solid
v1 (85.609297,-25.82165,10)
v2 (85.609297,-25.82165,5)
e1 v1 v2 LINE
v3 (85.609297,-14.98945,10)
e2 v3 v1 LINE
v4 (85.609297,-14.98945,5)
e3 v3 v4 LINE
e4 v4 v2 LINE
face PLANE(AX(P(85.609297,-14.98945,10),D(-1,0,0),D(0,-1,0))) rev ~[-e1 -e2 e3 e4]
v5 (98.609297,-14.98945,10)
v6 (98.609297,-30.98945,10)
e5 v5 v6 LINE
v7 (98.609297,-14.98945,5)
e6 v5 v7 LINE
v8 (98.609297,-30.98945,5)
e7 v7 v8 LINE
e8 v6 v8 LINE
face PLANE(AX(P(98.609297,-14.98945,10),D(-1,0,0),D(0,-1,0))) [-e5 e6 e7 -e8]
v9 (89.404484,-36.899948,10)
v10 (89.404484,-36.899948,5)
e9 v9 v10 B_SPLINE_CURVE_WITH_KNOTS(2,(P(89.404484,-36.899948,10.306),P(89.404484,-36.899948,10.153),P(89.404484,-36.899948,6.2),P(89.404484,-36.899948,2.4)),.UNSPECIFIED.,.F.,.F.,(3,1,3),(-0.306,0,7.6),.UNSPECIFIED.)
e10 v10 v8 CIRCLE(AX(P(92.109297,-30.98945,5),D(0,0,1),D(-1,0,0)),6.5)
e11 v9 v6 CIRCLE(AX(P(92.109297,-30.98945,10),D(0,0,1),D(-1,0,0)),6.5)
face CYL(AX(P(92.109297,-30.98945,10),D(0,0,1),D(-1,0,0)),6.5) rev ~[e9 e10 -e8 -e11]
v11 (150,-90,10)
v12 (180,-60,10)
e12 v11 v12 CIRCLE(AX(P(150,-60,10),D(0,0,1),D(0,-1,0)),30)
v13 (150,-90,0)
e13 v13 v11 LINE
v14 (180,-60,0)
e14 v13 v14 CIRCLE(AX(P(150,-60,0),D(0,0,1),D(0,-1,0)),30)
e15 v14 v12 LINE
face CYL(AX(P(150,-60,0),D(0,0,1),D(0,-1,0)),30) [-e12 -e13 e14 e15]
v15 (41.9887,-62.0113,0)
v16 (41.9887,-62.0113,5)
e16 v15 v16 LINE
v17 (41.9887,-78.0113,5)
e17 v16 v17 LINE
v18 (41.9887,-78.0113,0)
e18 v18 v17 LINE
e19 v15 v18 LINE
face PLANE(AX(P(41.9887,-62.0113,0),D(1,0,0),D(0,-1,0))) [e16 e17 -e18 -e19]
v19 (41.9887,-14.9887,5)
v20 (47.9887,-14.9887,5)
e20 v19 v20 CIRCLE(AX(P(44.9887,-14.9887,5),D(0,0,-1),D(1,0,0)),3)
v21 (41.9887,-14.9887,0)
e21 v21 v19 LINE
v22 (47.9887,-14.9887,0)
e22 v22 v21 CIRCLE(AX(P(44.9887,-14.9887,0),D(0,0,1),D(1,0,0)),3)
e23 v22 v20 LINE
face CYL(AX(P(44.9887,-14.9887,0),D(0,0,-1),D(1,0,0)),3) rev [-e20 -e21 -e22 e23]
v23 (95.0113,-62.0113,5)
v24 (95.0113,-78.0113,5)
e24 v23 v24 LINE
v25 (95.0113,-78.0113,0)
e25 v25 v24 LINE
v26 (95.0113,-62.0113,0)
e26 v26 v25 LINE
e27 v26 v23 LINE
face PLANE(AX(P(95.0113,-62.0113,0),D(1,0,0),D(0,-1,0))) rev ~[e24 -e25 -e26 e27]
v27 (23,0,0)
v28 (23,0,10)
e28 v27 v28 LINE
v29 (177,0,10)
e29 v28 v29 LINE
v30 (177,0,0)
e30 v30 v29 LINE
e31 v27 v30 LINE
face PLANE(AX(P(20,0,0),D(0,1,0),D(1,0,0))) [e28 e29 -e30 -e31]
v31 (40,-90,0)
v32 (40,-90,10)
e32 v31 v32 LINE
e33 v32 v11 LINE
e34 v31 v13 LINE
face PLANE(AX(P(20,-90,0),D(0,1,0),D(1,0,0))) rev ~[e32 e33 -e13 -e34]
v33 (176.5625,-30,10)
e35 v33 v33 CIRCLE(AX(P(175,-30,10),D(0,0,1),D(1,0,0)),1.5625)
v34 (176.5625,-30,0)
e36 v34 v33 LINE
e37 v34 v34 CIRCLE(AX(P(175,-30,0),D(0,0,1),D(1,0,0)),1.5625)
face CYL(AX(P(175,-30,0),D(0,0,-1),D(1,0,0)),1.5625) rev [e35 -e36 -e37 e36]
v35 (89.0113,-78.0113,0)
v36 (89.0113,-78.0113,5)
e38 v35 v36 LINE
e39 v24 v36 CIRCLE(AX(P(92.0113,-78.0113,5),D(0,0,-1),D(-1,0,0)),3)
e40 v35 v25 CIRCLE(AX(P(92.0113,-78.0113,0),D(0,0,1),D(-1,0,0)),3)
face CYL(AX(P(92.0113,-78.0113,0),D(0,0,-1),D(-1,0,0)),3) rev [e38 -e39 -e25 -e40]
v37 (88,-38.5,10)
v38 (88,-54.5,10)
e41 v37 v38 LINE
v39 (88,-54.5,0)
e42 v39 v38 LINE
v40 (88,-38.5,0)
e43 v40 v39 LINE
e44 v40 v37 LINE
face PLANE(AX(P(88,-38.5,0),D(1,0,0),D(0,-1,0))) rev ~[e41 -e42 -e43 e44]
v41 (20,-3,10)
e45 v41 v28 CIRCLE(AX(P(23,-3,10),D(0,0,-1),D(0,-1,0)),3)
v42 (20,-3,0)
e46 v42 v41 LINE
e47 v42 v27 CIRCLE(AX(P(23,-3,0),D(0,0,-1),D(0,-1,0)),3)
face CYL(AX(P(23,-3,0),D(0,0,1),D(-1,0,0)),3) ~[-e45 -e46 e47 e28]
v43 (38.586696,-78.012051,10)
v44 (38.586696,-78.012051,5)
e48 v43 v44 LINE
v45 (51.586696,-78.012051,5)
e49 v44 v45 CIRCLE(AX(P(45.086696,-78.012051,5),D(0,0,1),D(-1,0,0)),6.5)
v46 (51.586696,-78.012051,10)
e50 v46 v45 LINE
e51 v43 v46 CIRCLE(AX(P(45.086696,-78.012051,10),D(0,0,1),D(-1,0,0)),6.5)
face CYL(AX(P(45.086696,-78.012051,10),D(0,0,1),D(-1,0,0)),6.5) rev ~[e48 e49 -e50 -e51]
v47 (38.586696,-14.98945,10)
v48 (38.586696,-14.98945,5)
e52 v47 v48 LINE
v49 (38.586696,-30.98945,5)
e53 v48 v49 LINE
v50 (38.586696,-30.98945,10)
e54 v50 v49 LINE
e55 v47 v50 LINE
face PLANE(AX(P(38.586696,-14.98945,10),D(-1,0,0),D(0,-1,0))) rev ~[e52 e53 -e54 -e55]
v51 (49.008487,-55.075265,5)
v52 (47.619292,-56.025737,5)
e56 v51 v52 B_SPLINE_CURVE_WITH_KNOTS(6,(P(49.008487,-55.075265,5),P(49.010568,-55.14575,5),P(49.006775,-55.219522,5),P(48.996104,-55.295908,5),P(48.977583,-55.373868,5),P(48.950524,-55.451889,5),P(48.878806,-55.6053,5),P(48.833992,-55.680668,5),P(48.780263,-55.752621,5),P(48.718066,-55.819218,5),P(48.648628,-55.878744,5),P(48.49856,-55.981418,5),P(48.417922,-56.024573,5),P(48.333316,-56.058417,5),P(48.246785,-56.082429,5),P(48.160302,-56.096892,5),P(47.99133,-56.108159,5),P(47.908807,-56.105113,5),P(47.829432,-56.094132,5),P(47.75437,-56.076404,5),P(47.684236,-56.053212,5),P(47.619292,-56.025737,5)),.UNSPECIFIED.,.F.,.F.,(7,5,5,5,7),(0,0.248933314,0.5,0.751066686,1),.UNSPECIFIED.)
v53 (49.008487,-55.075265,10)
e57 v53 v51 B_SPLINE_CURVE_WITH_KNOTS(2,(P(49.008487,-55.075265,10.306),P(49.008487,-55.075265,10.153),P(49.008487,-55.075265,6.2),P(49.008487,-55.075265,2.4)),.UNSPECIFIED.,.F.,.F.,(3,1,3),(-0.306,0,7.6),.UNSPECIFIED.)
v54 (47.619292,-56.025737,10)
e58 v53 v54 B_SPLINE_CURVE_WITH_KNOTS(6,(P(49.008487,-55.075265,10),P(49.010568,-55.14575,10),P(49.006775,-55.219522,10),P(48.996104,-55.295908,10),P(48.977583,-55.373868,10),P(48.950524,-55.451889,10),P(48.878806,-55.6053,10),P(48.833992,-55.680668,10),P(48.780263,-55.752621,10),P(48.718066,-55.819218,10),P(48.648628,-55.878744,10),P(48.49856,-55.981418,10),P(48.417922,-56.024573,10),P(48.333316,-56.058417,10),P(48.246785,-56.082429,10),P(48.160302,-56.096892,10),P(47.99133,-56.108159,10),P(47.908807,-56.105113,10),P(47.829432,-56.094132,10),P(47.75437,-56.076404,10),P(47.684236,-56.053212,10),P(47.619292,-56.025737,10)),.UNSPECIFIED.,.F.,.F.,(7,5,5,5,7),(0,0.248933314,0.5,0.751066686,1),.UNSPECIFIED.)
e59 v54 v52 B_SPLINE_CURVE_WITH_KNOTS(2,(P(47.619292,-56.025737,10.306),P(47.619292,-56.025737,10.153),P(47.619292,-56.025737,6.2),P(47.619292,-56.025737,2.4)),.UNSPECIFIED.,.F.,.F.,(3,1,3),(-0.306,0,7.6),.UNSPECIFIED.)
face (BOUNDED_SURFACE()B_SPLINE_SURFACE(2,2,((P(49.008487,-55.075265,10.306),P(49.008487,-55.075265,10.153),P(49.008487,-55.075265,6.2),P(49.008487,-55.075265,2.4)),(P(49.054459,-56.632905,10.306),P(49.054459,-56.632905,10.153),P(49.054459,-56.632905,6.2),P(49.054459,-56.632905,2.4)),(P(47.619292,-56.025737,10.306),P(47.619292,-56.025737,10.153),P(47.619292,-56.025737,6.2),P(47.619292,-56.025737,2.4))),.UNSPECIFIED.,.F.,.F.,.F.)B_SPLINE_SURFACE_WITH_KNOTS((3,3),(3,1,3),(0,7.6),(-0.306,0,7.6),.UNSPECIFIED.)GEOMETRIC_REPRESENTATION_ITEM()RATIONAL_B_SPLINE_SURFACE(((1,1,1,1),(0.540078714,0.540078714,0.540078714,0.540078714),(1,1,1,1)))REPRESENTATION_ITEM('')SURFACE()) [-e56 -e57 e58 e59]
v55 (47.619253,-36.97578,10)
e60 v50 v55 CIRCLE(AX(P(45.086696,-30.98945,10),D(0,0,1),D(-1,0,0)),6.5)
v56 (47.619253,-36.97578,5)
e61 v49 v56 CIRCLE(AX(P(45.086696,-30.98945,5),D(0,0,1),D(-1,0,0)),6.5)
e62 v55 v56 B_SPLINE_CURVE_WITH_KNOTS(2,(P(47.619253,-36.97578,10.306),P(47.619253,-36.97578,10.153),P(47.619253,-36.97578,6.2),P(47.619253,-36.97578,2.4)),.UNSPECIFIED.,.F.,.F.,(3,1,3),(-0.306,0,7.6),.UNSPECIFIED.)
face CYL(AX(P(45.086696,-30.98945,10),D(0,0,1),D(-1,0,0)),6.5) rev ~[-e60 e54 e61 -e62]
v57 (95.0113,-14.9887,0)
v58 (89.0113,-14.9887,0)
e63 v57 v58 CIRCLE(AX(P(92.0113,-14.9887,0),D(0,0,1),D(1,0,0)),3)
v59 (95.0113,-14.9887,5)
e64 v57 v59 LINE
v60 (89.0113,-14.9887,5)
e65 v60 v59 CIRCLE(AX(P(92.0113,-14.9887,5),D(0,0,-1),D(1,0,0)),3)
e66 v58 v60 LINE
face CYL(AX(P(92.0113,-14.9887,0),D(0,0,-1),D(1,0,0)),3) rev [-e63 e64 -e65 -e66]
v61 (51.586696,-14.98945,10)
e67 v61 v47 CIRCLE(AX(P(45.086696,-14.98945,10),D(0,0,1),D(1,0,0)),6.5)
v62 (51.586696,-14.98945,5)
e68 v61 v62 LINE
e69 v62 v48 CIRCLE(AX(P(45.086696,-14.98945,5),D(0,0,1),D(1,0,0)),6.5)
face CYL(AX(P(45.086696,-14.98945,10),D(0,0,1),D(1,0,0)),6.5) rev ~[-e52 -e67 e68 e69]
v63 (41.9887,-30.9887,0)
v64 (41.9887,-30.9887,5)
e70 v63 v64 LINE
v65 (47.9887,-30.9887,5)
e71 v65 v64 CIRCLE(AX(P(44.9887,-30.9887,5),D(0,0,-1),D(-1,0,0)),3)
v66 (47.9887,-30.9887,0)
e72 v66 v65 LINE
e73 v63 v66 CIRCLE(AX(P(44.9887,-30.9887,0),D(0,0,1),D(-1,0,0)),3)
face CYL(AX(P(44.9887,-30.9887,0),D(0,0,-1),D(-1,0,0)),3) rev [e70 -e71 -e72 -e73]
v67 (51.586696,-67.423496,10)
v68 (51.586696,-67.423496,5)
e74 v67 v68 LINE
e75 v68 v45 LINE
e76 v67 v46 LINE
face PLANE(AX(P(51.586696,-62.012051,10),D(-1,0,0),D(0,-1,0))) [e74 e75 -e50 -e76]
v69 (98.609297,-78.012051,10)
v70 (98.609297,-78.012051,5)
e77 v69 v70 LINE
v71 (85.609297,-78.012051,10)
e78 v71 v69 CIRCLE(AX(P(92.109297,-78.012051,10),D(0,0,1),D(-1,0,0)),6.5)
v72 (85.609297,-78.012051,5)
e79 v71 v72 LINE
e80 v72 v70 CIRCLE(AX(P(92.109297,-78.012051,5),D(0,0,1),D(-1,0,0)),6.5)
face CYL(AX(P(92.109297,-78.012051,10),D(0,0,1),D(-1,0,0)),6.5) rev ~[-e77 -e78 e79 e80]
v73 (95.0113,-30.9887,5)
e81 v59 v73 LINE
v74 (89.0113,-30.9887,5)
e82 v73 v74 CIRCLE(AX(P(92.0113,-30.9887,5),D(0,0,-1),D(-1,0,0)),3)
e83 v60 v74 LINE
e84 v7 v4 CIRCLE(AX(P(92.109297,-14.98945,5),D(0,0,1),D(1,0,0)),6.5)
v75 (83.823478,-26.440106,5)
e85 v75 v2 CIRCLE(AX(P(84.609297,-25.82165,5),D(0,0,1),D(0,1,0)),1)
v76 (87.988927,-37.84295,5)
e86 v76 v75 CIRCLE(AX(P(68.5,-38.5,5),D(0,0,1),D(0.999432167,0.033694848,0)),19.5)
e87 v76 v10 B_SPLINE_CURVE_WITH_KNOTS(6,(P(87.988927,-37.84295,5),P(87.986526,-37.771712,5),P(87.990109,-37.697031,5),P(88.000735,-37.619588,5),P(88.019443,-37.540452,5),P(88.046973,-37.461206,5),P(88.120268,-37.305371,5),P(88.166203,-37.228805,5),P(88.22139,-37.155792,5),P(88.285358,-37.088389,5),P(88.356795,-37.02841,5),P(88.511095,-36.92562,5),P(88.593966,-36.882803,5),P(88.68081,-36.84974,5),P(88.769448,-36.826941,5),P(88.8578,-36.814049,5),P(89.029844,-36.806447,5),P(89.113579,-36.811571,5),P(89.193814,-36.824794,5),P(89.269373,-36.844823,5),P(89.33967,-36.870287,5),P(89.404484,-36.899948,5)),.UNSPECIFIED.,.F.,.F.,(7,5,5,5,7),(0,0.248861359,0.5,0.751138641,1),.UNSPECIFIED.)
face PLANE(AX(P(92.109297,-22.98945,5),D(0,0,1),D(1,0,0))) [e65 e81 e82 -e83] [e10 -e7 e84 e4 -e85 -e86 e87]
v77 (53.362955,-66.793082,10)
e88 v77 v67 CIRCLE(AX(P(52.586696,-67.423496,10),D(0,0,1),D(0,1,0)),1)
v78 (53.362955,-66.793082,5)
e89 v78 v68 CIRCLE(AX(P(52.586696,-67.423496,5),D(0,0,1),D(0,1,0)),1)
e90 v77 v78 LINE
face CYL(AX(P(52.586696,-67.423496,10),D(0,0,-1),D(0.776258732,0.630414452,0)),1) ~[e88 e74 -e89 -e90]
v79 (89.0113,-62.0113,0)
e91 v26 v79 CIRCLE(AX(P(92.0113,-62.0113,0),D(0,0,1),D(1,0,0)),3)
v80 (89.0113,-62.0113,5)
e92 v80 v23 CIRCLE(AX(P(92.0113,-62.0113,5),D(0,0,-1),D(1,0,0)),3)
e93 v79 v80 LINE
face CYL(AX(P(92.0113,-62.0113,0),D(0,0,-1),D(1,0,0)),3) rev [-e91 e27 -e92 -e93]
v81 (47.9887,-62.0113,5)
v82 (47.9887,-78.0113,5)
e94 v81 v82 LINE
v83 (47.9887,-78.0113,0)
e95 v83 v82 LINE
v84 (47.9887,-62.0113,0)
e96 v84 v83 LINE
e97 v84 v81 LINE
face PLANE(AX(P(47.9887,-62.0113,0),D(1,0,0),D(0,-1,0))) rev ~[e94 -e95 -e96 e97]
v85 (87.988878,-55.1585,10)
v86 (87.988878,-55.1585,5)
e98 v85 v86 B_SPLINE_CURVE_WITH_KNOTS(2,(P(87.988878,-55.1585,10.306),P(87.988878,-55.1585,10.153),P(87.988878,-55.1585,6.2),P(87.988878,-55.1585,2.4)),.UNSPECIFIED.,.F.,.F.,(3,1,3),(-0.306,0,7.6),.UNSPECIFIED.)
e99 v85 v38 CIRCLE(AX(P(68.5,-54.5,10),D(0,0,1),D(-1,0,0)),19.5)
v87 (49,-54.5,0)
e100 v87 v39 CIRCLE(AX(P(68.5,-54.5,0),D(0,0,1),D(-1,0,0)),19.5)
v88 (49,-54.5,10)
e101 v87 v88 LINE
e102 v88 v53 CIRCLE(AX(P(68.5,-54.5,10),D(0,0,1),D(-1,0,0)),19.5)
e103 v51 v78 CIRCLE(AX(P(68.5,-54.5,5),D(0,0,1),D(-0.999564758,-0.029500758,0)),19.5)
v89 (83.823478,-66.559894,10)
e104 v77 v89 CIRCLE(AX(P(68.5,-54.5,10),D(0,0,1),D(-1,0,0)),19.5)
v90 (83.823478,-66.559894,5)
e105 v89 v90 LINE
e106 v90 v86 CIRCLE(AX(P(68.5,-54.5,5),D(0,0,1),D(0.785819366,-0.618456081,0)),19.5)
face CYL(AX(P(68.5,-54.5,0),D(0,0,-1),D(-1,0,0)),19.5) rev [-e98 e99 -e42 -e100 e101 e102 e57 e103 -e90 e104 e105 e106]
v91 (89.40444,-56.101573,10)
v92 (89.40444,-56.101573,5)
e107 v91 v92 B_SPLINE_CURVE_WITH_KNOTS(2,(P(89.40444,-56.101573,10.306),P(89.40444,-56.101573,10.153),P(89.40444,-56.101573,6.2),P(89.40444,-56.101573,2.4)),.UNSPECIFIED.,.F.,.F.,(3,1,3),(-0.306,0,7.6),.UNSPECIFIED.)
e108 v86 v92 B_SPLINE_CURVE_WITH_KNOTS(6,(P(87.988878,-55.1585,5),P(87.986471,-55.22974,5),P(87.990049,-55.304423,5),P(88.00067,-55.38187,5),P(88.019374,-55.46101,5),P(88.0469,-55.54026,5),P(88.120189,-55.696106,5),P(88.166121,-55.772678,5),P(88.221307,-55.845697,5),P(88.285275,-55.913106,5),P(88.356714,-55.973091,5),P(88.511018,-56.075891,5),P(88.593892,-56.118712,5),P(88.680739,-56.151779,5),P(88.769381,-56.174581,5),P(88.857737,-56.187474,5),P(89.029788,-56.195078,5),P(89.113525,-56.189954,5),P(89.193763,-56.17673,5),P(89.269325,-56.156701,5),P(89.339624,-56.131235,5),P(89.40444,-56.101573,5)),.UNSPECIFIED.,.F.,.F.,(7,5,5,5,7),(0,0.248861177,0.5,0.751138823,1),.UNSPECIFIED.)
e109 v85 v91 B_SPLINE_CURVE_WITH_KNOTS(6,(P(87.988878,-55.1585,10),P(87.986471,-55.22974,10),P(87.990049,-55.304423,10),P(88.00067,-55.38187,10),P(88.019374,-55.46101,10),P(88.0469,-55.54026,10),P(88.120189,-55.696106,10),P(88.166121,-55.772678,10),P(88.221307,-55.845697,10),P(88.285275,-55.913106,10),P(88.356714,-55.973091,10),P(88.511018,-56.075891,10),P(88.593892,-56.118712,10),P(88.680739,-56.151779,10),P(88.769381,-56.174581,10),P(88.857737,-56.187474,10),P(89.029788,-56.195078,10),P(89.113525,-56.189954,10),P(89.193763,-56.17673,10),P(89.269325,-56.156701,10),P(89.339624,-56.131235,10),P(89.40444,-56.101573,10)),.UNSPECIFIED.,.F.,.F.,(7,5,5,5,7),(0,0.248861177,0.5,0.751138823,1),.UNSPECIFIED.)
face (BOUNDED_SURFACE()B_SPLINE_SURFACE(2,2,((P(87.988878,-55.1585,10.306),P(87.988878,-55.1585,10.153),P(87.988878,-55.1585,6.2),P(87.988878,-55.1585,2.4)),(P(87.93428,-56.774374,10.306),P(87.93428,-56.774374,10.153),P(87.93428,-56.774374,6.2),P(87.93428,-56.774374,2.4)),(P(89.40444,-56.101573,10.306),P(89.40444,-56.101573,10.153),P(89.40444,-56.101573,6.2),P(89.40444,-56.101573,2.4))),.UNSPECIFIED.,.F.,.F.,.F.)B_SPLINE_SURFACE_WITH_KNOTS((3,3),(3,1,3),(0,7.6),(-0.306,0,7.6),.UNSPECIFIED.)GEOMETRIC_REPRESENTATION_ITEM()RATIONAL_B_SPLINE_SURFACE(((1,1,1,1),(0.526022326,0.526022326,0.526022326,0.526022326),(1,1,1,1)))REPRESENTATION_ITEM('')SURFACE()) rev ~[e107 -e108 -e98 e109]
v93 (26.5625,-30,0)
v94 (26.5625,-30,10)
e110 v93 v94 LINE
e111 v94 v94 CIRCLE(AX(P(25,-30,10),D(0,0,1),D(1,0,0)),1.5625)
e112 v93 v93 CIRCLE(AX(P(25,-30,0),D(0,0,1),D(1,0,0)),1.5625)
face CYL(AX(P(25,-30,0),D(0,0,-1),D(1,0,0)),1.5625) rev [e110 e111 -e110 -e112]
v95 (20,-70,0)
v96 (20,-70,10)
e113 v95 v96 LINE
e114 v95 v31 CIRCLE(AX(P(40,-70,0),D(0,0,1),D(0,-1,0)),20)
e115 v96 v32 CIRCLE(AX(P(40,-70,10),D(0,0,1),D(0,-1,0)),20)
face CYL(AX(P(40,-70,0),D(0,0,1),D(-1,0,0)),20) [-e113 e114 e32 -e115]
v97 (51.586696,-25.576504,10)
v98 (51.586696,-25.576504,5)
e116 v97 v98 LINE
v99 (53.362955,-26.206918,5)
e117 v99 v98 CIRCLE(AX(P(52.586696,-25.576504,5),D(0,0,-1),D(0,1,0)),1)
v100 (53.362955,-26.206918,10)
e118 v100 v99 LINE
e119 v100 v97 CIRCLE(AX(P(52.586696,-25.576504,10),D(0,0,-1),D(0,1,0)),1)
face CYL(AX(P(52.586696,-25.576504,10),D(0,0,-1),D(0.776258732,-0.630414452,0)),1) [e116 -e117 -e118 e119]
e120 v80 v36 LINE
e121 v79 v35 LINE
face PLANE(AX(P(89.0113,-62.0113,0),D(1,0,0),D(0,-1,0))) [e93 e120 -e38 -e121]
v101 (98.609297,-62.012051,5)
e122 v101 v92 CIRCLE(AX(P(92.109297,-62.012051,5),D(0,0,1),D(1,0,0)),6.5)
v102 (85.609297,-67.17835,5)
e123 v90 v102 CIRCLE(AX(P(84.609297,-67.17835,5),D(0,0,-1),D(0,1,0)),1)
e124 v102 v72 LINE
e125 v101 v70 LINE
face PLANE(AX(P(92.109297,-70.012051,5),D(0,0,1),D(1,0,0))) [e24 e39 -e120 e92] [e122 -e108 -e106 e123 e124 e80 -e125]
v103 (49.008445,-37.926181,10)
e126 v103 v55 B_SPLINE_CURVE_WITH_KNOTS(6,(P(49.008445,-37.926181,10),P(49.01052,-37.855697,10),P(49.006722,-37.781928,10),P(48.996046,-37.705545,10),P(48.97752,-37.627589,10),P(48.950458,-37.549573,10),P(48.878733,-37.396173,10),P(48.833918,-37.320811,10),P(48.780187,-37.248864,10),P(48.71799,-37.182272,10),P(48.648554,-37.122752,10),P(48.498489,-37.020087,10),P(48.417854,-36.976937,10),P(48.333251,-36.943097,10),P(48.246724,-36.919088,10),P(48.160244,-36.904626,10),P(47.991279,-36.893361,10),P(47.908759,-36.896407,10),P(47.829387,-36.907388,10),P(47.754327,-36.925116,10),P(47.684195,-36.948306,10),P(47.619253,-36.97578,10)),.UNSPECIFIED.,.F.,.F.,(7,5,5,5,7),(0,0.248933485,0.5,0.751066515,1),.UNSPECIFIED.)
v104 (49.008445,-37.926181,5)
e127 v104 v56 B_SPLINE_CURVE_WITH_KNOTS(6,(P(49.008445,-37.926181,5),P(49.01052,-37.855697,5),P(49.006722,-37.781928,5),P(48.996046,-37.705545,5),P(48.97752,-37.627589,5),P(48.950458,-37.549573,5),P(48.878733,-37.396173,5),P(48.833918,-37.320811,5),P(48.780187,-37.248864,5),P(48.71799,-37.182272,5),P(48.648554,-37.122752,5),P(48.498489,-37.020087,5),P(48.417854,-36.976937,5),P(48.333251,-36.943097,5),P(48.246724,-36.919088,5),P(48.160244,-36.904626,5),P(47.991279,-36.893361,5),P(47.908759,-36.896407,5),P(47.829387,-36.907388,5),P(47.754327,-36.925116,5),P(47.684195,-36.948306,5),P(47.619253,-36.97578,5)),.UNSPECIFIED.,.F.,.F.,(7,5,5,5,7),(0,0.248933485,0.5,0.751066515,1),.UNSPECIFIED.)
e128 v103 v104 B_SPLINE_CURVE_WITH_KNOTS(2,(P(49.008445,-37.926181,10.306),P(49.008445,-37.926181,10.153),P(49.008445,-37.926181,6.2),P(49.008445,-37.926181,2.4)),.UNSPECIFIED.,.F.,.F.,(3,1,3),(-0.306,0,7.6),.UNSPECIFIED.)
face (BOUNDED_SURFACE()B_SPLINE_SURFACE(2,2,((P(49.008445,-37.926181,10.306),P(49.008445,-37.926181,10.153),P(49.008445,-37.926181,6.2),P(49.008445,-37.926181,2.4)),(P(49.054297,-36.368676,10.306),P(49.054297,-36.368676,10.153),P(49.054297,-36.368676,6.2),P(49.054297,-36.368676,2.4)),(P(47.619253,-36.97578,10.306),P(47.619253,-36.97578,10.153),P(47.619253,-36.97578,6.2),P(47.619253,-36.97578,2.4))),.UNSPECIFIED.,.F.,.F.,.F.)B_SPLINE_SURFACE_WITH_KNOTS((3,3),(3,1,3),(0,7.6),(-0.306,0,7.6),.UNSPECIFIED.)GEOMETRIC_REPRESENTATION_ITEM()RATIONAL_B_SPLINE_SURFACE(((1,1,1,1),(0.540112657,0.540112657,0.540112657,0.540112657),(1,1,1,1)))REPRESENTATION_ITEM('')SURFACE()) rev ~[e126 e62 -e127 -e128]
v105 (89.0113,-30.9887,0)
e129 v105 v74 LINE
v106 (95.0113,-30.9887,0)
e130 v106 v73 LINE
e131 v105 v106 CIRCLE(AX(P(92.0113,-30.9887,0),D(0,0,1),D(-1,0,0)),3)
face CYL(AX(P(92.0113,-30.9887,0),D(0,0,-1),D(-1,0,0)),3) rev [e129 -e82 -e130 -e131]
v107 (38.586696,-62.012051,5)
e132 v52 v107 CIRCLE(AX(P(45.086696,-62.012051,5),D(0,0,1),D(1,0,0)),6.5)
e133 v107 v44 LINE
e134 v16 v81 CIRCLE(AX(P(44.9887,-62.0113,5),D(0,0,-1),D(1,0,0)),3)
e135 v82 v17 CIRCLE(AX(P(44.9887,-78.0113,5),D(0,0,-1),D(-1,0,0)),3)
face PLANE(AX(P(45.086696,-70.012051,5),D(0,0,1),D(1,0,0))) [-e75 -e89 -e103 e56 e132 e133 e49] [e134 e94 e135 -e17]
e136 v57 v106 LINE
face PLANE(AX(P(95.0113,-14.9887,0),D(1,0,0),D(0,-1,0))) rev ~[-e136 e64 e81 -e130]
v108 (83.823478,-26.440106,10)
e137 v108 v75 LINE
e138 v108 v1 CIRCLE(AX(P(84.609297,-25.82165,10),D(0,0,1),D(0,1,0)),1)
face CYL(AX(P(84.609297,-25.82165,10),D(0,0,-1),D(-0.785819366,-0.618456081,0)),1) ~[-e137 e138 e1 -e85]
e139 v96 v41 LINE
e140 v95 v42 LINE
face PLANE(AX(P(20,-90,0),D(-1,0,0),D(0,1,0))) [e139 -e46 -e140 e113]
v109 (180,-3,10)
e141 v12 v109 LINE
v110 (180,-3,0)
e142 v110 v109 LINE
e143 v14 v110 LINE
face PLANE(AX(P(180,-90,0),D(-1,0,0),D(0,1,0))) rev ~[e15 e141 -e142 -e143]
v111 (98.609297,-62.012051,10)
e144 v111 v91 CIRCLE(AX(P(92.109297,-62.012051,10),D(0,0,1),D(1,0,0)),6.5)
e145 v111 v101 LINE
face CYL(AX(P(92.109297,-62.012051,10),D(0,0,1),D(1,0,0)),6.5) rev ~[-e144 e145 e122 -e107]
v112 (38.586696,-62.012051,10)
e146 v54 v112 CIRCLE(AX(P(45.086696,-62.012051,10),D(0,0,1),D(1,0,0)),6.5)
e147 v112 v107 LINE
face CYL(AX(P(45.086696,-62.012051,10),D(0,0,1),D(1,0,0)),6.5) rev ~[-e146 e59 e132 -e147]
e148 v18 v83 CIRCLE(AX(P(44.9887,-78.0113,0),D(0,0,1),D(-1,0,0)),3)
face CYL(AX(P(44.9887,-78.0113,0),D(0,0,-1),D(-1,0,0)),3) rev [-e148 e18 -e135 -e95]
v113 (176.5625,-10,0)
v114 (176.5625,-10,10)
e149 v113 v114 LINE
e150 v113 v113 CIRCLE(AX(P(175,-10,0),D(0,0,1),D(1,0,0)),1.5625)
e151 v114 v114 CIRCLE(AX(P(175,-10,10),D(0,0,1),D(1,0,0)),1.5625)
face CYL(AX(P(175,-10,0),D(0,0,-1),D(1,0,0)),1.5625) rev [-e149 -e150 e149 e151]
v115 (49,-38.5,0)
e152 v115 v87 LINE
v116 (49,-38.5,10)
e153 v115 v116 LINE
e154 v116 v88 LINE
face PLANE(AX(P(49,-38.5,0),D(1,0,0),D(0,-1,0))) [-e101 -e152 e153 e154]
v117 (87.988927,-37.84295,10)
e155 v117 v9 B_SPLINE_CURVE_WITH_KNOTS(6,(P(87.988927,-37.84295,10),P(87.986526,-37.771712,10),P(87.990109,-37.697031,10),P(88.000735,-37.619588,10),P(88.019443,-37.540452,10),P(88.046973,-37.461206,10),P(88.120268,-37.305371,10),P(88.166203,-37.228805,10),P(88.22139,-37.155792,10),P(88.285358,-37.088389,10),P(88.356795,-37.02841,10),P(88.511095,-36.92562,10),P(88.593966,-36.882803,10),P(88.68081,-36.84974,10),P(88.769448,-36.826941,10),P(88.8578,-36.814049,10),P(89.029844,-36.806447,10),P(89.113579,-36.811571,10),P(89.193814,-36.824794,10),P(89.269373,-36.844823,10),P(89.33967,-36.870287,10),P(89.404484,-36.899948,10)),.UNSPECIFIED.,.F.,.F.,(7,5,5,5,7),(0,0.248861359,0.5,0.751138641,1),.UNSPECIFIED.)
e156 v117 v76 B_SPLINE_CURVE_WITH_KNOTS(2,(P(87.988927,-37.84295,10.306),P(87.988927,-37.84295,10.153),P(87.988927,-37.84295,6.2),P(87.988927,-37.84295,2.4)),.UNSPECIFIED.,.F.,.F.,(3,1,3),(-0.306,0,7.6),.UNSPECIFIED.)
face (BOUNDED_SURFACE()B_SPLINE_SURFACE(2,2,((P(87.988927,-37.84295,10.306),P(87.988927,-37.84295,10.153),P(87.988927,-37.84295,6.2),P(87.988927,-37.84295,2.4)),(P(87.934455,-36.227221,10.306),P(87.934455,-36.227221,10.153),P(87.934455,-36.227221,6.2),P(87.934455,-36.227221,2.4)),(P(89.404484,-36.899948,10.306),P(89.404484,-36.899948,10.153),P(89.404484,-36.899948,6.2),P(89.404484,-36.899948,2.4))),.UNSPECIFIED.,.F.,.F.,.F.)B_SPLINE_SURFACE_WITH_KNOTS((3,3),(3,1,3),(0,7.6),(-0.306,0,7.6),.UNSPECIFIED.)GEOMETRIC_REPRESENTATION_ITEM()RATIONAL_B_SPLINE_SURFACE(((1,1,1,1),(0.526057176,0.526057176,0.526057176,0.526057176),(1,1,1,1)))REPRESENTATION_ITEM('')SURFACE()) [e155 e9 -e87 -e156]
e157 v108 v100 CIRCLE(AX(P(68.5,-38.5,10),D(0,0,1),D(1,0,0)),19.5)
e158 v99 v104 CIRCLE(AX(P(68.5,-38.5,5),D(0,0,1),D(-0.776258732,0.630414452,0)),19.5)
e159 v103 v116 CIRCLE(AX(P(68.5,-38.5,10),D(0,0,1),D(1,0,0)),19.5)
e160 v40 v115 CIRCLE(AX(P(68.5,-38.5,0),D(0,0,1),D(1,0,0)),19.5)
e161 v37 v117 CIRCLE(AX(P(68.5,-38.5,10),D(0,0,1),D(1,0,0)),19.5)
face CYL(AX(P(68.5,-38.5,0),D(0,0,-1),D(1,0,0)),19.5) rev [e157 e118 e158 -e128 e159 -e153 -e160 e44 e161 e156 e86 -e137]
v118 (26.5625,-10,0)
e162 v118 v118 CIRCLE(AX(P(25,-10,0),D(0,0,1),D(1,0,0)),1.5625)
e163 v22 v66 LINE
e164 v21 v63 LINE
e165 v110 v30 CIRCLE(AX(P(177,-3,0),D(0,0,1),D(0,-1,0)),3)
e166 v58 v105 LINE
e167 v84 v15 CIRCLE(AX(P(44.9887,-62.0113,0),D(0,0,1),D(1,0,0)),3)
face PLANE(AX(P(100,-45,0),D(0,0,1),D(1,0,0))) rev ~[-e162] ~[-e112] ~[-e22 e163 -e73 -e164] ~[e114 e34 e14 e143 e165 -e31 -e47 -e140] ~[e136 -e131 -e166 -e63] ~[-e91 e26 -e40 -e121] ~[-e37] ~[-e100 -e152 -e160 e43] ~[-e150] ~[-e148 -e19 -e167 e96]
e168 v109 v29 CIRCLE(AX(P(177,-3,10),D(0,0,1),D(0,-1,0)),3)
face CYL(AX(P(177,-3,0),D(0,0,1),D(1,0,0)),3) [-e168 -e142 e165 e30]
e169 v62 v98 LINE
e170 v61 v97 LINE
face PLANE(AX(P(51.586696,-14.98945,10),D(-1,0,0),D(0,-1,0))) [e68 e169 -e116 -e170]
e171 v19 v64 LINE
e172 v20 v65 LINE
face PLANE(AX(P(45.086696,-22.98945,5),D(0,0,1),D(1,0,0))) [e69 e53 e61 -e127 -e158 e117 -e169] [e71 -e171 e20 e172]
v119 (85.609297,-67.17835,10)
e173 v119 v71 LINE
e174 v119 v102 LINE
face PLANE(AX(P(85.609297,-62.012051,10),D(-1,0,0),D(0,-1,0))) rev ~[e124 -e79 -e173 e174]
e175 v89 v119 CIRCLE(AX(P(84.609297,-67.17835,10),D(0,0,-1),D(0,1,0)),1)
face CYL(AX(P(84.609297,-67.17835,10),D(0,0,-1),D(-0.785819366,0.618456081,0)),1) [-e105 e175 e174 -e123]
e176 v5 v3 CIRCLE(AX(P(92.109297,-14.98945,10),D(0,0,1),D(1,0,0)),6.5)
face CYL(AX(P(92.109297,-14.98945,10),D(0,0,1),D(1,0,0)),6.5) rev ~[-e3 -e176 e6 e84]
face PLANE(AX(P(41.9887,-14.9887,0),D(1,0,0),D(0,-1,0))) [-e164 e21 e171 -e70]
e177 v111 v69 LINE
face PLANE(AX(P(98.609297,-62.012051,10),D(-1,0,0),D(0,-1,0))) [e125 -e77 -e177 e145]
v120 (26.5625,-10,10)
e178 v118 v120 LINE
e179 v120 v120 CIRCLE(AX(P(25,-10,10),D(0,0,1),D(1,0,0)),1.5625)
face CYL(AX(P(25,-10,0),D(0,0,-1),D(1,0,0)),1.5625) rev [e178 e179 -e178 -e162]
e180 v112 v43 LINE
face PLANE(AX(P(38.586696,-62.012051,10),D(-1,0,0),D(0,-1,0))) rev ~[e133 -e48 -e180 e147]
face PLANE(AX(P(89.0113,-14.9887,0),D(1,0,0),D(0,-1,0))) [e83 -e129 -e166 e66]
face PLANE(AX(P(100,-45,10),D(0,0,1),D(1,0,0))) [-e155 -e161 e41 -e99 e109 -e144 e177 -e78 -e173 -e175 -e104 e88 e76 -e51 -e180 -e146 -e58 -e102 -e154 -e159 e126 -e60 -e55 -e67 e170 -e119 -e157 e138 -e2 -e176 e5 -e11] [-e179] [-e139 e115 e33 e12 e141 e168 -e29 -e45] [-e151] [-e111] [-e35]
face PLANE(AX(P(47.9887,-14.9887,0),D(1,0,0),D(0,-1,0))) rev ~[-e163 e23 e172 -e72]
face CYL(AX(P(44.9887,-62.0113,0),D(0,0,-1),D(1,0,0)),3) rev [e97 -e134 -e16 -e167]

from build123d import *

# Parameters (mm, degrees)
SKETCH_W     = 160
SKETCH_H     = 90
SKETCH_R     = 1.5625
PAD_DEPTH    = 10
POCKET_DEPTH = 5
FILLET_R     = 20
FILLET001_R  = 30
FILLET002_R  = 3
FILLET003_R  = 1
FILLET004_R  = 1
FILLET005_R  = 1


with BuildPart() as part:
    # Sketch → Pad (new body)
    with BuildSketch(Plane.XY):
        with Locations((100, -45)):
            Rectangle(SKETCH_W, SKETCH_H)
        with Locations((175, -10)):
            Circle(SKETCH_R, mode=Mode.SUBTRACT)
        with Locations((175, -30)):
            Circle(SKETCH_R, mode=Mode.SUBTRACT)
        with Locations((25, -10)):
            Circle(SKETCH_R, mode=Mode.SUBTRACT)
        with Locations((25, -30)):
            Circle(SKETCH_R, mode=Mode.SUBTRACT)
        with BuildLine():
            ThreePointArc((95.0113, -14.9887), (92.0113, -11.9887), (89.0113, -14.9887))
            Line((89.0113, -14.9887), (89.0113, -30.9887))
            ThreePointArc((89.0113, -30.9887), (92.0113, -33.9887), (95.0113, -30.9887))
            Line((95.0113, -14.9887), (95.0113, -30.9887))
        make_face(mode=Mode.SUBTRACT)
        with BuildLine():
            ThreePointArc((88, -38.5), (68.5, -19), (49, -38.5))
            Line((49, -38.5), (49, -54.5))
            ThreePointArc((49, -54.5), (68.5, -74), (88, -54.5))
            Line((88, -38.5), (88, -54.5))
        make_face(mode=Mode.SUBTRACT)
        with BuildLine():
            ThreePointArc((95.0113, -62.0113), (92.0113, -59.0113), (89.0113, -62.0113))
            Line((89.0113, -62.0113), (89.0113, -78.0113))
            ThreePointArc((89.0113, -78.0113), (92.0113, -81.0113), (95.0113, -78.0113))
            Line((95.0113, -62.0113), (95.0113, -78.0113))
        make_face(mode=Mode.SUBTRACT)
        with BuildLine():
            ThreePointArc((47.9887, -62.0113), (44.9887, -59.0113), (41.9887, -62.0113))
            Line((41.9887, -62.0113), (41.9887, -78.0113))
            ThreePointArc((41.9887, -78.0113), (44.9887, -81.0113), (47.9887, -78.0113))
            Line((47.9887, -62.0113), (47.9887, -78.0113))
        make_face(mode=Mode.SUBTRACT)
        with BuildLine():
            ThreePointArc((47.9887, -14.9887), (44.9887, -11.9887), (41.9887, -14.9887))
            Line((41.9887, -14.9887), (41.9887, -30.9887))
            ThreePointArc((41.9887, -30.9887), (44.9887, -33.9887), (47.9887, -30.9887))
            Line((47.9887, -14.9887), (47.9887, -30.9887))
        make_face(mode=Mode.SUBTRACT)
    extrude(amount=PAD_DEPTH)

    # Sketch001 (on Face30 of Pad) → Pocket (cut)
    with BuildSketch(Plane.XY.offset(10)):
        with BuildLine():
            ThreePointArc((98.609297, -14.98945), (92.109297, -8.48945), (85.609297, -14.98945))
            Line((85.609297, -14.98945), (85.609297, -30.98945))
            ThreePointArc((85.609297, -30.98945), (92.109297, -37.48945), (98.609297, -30.98945))
            Line((98.609297, -14.98945), (98.609297, -30.98945))
        make_face()
        with BuildLine():
            ThreePointArc((51.586696, -14.98945), (45.086696, -8.48945), (38.586696, -14.98945))
            Line((38.586696, -14.98945), (38.586696, -30.98945))
            ThreePointArc((38.586696, -30.98945), (45.086696, -37.48945), (51.586696, -30.98945))
            Line((51.586696, -14.98945), (51.586696, -30.98945))
        make_face()
        with BuildLine():
            ThreePointArc((98.609297, -62.012051), (92.109297, -55.512051), (85.609297, -62.012051))
            Line((85.609297, -62.012051), (85.609297, -78.012051))
            ThreePointArc((85.609297, -78.012051), (92.109297, -84.512051), (98.609297, -78.012051))
            Line((98.609297, -62.012051), (98.609297, -78.012051))
        make_face()
        with BuildLine():
            ThreePointArc((51.586696, -62.012051), (45.086696, -55.512051), (38.586696, -62.012051))
            Line((38.586696, -62.012051), (38.586696, -78.012051))
            ThreePointArc((38.586696, -78.012051), (45.086696, -84.512051), (51.586696, -78.012051))
            Line((51.586696, -62.012051), (51.586696, -78.012051))
        make_face()
    extrude(amount=-POCKET_DEPTH, mode=Mode.SUBTRACT)

    # Fillet
    fillet_edges = [part.edges().sort_by_distance(p)[0] for p in [
        (20, -90, 5),
    ]]
    fillet(fillet_edges, radius=FILLET_R)

    # Fillet001
    fillet001_edges = [part.edges().sort_by_distance(p)[0] for p in [
        (180, -90, 5),
    ]]
    fillet(fillet001_edges, radius=FILLET001_R)

    # Fillet002
    fillet002_edges = [part.edges().sort_by_distance(p)[0] for p in [
        (20, 0, 5),
        (180, 0, 5),
    ]]
    fillet(fillet002_edges, radius=FILLET002_R)

    # Fillet003
    fillet003_edges = [part.edges().sort_by_distance(p)[0] for p in [
        (87.822355, -57.126141, 7.5),
    ]]
    fillet(fillet003_edges, radius=FILLET003_R)

    # Fillet004
    fillet004_edges = [part.edges().sort_by_distance(p)[0] for p in [
        (85.609297, -29.144684, 7.5),
        (51.586696, -28.794838, 7.5),
        (49.153433, -56.941385, 7.5),
    ]]
    fillet(fillet004_edges, radius=FILLET004_R)

    # Fillet005
    fillet005_edges = [part.edges().sort_by_distance(p)[0] for p in [
        (85.609297, -63.855316, 7.5),
        (51.586696, -64.205162, 7.5),
        (49.153223, -36.060285, 7.5),
        (87.822586, -35.875564, 7.5),
    ]]
    fillet(fillet005_edges, radius=FILLET005_R)


solid = part.part
